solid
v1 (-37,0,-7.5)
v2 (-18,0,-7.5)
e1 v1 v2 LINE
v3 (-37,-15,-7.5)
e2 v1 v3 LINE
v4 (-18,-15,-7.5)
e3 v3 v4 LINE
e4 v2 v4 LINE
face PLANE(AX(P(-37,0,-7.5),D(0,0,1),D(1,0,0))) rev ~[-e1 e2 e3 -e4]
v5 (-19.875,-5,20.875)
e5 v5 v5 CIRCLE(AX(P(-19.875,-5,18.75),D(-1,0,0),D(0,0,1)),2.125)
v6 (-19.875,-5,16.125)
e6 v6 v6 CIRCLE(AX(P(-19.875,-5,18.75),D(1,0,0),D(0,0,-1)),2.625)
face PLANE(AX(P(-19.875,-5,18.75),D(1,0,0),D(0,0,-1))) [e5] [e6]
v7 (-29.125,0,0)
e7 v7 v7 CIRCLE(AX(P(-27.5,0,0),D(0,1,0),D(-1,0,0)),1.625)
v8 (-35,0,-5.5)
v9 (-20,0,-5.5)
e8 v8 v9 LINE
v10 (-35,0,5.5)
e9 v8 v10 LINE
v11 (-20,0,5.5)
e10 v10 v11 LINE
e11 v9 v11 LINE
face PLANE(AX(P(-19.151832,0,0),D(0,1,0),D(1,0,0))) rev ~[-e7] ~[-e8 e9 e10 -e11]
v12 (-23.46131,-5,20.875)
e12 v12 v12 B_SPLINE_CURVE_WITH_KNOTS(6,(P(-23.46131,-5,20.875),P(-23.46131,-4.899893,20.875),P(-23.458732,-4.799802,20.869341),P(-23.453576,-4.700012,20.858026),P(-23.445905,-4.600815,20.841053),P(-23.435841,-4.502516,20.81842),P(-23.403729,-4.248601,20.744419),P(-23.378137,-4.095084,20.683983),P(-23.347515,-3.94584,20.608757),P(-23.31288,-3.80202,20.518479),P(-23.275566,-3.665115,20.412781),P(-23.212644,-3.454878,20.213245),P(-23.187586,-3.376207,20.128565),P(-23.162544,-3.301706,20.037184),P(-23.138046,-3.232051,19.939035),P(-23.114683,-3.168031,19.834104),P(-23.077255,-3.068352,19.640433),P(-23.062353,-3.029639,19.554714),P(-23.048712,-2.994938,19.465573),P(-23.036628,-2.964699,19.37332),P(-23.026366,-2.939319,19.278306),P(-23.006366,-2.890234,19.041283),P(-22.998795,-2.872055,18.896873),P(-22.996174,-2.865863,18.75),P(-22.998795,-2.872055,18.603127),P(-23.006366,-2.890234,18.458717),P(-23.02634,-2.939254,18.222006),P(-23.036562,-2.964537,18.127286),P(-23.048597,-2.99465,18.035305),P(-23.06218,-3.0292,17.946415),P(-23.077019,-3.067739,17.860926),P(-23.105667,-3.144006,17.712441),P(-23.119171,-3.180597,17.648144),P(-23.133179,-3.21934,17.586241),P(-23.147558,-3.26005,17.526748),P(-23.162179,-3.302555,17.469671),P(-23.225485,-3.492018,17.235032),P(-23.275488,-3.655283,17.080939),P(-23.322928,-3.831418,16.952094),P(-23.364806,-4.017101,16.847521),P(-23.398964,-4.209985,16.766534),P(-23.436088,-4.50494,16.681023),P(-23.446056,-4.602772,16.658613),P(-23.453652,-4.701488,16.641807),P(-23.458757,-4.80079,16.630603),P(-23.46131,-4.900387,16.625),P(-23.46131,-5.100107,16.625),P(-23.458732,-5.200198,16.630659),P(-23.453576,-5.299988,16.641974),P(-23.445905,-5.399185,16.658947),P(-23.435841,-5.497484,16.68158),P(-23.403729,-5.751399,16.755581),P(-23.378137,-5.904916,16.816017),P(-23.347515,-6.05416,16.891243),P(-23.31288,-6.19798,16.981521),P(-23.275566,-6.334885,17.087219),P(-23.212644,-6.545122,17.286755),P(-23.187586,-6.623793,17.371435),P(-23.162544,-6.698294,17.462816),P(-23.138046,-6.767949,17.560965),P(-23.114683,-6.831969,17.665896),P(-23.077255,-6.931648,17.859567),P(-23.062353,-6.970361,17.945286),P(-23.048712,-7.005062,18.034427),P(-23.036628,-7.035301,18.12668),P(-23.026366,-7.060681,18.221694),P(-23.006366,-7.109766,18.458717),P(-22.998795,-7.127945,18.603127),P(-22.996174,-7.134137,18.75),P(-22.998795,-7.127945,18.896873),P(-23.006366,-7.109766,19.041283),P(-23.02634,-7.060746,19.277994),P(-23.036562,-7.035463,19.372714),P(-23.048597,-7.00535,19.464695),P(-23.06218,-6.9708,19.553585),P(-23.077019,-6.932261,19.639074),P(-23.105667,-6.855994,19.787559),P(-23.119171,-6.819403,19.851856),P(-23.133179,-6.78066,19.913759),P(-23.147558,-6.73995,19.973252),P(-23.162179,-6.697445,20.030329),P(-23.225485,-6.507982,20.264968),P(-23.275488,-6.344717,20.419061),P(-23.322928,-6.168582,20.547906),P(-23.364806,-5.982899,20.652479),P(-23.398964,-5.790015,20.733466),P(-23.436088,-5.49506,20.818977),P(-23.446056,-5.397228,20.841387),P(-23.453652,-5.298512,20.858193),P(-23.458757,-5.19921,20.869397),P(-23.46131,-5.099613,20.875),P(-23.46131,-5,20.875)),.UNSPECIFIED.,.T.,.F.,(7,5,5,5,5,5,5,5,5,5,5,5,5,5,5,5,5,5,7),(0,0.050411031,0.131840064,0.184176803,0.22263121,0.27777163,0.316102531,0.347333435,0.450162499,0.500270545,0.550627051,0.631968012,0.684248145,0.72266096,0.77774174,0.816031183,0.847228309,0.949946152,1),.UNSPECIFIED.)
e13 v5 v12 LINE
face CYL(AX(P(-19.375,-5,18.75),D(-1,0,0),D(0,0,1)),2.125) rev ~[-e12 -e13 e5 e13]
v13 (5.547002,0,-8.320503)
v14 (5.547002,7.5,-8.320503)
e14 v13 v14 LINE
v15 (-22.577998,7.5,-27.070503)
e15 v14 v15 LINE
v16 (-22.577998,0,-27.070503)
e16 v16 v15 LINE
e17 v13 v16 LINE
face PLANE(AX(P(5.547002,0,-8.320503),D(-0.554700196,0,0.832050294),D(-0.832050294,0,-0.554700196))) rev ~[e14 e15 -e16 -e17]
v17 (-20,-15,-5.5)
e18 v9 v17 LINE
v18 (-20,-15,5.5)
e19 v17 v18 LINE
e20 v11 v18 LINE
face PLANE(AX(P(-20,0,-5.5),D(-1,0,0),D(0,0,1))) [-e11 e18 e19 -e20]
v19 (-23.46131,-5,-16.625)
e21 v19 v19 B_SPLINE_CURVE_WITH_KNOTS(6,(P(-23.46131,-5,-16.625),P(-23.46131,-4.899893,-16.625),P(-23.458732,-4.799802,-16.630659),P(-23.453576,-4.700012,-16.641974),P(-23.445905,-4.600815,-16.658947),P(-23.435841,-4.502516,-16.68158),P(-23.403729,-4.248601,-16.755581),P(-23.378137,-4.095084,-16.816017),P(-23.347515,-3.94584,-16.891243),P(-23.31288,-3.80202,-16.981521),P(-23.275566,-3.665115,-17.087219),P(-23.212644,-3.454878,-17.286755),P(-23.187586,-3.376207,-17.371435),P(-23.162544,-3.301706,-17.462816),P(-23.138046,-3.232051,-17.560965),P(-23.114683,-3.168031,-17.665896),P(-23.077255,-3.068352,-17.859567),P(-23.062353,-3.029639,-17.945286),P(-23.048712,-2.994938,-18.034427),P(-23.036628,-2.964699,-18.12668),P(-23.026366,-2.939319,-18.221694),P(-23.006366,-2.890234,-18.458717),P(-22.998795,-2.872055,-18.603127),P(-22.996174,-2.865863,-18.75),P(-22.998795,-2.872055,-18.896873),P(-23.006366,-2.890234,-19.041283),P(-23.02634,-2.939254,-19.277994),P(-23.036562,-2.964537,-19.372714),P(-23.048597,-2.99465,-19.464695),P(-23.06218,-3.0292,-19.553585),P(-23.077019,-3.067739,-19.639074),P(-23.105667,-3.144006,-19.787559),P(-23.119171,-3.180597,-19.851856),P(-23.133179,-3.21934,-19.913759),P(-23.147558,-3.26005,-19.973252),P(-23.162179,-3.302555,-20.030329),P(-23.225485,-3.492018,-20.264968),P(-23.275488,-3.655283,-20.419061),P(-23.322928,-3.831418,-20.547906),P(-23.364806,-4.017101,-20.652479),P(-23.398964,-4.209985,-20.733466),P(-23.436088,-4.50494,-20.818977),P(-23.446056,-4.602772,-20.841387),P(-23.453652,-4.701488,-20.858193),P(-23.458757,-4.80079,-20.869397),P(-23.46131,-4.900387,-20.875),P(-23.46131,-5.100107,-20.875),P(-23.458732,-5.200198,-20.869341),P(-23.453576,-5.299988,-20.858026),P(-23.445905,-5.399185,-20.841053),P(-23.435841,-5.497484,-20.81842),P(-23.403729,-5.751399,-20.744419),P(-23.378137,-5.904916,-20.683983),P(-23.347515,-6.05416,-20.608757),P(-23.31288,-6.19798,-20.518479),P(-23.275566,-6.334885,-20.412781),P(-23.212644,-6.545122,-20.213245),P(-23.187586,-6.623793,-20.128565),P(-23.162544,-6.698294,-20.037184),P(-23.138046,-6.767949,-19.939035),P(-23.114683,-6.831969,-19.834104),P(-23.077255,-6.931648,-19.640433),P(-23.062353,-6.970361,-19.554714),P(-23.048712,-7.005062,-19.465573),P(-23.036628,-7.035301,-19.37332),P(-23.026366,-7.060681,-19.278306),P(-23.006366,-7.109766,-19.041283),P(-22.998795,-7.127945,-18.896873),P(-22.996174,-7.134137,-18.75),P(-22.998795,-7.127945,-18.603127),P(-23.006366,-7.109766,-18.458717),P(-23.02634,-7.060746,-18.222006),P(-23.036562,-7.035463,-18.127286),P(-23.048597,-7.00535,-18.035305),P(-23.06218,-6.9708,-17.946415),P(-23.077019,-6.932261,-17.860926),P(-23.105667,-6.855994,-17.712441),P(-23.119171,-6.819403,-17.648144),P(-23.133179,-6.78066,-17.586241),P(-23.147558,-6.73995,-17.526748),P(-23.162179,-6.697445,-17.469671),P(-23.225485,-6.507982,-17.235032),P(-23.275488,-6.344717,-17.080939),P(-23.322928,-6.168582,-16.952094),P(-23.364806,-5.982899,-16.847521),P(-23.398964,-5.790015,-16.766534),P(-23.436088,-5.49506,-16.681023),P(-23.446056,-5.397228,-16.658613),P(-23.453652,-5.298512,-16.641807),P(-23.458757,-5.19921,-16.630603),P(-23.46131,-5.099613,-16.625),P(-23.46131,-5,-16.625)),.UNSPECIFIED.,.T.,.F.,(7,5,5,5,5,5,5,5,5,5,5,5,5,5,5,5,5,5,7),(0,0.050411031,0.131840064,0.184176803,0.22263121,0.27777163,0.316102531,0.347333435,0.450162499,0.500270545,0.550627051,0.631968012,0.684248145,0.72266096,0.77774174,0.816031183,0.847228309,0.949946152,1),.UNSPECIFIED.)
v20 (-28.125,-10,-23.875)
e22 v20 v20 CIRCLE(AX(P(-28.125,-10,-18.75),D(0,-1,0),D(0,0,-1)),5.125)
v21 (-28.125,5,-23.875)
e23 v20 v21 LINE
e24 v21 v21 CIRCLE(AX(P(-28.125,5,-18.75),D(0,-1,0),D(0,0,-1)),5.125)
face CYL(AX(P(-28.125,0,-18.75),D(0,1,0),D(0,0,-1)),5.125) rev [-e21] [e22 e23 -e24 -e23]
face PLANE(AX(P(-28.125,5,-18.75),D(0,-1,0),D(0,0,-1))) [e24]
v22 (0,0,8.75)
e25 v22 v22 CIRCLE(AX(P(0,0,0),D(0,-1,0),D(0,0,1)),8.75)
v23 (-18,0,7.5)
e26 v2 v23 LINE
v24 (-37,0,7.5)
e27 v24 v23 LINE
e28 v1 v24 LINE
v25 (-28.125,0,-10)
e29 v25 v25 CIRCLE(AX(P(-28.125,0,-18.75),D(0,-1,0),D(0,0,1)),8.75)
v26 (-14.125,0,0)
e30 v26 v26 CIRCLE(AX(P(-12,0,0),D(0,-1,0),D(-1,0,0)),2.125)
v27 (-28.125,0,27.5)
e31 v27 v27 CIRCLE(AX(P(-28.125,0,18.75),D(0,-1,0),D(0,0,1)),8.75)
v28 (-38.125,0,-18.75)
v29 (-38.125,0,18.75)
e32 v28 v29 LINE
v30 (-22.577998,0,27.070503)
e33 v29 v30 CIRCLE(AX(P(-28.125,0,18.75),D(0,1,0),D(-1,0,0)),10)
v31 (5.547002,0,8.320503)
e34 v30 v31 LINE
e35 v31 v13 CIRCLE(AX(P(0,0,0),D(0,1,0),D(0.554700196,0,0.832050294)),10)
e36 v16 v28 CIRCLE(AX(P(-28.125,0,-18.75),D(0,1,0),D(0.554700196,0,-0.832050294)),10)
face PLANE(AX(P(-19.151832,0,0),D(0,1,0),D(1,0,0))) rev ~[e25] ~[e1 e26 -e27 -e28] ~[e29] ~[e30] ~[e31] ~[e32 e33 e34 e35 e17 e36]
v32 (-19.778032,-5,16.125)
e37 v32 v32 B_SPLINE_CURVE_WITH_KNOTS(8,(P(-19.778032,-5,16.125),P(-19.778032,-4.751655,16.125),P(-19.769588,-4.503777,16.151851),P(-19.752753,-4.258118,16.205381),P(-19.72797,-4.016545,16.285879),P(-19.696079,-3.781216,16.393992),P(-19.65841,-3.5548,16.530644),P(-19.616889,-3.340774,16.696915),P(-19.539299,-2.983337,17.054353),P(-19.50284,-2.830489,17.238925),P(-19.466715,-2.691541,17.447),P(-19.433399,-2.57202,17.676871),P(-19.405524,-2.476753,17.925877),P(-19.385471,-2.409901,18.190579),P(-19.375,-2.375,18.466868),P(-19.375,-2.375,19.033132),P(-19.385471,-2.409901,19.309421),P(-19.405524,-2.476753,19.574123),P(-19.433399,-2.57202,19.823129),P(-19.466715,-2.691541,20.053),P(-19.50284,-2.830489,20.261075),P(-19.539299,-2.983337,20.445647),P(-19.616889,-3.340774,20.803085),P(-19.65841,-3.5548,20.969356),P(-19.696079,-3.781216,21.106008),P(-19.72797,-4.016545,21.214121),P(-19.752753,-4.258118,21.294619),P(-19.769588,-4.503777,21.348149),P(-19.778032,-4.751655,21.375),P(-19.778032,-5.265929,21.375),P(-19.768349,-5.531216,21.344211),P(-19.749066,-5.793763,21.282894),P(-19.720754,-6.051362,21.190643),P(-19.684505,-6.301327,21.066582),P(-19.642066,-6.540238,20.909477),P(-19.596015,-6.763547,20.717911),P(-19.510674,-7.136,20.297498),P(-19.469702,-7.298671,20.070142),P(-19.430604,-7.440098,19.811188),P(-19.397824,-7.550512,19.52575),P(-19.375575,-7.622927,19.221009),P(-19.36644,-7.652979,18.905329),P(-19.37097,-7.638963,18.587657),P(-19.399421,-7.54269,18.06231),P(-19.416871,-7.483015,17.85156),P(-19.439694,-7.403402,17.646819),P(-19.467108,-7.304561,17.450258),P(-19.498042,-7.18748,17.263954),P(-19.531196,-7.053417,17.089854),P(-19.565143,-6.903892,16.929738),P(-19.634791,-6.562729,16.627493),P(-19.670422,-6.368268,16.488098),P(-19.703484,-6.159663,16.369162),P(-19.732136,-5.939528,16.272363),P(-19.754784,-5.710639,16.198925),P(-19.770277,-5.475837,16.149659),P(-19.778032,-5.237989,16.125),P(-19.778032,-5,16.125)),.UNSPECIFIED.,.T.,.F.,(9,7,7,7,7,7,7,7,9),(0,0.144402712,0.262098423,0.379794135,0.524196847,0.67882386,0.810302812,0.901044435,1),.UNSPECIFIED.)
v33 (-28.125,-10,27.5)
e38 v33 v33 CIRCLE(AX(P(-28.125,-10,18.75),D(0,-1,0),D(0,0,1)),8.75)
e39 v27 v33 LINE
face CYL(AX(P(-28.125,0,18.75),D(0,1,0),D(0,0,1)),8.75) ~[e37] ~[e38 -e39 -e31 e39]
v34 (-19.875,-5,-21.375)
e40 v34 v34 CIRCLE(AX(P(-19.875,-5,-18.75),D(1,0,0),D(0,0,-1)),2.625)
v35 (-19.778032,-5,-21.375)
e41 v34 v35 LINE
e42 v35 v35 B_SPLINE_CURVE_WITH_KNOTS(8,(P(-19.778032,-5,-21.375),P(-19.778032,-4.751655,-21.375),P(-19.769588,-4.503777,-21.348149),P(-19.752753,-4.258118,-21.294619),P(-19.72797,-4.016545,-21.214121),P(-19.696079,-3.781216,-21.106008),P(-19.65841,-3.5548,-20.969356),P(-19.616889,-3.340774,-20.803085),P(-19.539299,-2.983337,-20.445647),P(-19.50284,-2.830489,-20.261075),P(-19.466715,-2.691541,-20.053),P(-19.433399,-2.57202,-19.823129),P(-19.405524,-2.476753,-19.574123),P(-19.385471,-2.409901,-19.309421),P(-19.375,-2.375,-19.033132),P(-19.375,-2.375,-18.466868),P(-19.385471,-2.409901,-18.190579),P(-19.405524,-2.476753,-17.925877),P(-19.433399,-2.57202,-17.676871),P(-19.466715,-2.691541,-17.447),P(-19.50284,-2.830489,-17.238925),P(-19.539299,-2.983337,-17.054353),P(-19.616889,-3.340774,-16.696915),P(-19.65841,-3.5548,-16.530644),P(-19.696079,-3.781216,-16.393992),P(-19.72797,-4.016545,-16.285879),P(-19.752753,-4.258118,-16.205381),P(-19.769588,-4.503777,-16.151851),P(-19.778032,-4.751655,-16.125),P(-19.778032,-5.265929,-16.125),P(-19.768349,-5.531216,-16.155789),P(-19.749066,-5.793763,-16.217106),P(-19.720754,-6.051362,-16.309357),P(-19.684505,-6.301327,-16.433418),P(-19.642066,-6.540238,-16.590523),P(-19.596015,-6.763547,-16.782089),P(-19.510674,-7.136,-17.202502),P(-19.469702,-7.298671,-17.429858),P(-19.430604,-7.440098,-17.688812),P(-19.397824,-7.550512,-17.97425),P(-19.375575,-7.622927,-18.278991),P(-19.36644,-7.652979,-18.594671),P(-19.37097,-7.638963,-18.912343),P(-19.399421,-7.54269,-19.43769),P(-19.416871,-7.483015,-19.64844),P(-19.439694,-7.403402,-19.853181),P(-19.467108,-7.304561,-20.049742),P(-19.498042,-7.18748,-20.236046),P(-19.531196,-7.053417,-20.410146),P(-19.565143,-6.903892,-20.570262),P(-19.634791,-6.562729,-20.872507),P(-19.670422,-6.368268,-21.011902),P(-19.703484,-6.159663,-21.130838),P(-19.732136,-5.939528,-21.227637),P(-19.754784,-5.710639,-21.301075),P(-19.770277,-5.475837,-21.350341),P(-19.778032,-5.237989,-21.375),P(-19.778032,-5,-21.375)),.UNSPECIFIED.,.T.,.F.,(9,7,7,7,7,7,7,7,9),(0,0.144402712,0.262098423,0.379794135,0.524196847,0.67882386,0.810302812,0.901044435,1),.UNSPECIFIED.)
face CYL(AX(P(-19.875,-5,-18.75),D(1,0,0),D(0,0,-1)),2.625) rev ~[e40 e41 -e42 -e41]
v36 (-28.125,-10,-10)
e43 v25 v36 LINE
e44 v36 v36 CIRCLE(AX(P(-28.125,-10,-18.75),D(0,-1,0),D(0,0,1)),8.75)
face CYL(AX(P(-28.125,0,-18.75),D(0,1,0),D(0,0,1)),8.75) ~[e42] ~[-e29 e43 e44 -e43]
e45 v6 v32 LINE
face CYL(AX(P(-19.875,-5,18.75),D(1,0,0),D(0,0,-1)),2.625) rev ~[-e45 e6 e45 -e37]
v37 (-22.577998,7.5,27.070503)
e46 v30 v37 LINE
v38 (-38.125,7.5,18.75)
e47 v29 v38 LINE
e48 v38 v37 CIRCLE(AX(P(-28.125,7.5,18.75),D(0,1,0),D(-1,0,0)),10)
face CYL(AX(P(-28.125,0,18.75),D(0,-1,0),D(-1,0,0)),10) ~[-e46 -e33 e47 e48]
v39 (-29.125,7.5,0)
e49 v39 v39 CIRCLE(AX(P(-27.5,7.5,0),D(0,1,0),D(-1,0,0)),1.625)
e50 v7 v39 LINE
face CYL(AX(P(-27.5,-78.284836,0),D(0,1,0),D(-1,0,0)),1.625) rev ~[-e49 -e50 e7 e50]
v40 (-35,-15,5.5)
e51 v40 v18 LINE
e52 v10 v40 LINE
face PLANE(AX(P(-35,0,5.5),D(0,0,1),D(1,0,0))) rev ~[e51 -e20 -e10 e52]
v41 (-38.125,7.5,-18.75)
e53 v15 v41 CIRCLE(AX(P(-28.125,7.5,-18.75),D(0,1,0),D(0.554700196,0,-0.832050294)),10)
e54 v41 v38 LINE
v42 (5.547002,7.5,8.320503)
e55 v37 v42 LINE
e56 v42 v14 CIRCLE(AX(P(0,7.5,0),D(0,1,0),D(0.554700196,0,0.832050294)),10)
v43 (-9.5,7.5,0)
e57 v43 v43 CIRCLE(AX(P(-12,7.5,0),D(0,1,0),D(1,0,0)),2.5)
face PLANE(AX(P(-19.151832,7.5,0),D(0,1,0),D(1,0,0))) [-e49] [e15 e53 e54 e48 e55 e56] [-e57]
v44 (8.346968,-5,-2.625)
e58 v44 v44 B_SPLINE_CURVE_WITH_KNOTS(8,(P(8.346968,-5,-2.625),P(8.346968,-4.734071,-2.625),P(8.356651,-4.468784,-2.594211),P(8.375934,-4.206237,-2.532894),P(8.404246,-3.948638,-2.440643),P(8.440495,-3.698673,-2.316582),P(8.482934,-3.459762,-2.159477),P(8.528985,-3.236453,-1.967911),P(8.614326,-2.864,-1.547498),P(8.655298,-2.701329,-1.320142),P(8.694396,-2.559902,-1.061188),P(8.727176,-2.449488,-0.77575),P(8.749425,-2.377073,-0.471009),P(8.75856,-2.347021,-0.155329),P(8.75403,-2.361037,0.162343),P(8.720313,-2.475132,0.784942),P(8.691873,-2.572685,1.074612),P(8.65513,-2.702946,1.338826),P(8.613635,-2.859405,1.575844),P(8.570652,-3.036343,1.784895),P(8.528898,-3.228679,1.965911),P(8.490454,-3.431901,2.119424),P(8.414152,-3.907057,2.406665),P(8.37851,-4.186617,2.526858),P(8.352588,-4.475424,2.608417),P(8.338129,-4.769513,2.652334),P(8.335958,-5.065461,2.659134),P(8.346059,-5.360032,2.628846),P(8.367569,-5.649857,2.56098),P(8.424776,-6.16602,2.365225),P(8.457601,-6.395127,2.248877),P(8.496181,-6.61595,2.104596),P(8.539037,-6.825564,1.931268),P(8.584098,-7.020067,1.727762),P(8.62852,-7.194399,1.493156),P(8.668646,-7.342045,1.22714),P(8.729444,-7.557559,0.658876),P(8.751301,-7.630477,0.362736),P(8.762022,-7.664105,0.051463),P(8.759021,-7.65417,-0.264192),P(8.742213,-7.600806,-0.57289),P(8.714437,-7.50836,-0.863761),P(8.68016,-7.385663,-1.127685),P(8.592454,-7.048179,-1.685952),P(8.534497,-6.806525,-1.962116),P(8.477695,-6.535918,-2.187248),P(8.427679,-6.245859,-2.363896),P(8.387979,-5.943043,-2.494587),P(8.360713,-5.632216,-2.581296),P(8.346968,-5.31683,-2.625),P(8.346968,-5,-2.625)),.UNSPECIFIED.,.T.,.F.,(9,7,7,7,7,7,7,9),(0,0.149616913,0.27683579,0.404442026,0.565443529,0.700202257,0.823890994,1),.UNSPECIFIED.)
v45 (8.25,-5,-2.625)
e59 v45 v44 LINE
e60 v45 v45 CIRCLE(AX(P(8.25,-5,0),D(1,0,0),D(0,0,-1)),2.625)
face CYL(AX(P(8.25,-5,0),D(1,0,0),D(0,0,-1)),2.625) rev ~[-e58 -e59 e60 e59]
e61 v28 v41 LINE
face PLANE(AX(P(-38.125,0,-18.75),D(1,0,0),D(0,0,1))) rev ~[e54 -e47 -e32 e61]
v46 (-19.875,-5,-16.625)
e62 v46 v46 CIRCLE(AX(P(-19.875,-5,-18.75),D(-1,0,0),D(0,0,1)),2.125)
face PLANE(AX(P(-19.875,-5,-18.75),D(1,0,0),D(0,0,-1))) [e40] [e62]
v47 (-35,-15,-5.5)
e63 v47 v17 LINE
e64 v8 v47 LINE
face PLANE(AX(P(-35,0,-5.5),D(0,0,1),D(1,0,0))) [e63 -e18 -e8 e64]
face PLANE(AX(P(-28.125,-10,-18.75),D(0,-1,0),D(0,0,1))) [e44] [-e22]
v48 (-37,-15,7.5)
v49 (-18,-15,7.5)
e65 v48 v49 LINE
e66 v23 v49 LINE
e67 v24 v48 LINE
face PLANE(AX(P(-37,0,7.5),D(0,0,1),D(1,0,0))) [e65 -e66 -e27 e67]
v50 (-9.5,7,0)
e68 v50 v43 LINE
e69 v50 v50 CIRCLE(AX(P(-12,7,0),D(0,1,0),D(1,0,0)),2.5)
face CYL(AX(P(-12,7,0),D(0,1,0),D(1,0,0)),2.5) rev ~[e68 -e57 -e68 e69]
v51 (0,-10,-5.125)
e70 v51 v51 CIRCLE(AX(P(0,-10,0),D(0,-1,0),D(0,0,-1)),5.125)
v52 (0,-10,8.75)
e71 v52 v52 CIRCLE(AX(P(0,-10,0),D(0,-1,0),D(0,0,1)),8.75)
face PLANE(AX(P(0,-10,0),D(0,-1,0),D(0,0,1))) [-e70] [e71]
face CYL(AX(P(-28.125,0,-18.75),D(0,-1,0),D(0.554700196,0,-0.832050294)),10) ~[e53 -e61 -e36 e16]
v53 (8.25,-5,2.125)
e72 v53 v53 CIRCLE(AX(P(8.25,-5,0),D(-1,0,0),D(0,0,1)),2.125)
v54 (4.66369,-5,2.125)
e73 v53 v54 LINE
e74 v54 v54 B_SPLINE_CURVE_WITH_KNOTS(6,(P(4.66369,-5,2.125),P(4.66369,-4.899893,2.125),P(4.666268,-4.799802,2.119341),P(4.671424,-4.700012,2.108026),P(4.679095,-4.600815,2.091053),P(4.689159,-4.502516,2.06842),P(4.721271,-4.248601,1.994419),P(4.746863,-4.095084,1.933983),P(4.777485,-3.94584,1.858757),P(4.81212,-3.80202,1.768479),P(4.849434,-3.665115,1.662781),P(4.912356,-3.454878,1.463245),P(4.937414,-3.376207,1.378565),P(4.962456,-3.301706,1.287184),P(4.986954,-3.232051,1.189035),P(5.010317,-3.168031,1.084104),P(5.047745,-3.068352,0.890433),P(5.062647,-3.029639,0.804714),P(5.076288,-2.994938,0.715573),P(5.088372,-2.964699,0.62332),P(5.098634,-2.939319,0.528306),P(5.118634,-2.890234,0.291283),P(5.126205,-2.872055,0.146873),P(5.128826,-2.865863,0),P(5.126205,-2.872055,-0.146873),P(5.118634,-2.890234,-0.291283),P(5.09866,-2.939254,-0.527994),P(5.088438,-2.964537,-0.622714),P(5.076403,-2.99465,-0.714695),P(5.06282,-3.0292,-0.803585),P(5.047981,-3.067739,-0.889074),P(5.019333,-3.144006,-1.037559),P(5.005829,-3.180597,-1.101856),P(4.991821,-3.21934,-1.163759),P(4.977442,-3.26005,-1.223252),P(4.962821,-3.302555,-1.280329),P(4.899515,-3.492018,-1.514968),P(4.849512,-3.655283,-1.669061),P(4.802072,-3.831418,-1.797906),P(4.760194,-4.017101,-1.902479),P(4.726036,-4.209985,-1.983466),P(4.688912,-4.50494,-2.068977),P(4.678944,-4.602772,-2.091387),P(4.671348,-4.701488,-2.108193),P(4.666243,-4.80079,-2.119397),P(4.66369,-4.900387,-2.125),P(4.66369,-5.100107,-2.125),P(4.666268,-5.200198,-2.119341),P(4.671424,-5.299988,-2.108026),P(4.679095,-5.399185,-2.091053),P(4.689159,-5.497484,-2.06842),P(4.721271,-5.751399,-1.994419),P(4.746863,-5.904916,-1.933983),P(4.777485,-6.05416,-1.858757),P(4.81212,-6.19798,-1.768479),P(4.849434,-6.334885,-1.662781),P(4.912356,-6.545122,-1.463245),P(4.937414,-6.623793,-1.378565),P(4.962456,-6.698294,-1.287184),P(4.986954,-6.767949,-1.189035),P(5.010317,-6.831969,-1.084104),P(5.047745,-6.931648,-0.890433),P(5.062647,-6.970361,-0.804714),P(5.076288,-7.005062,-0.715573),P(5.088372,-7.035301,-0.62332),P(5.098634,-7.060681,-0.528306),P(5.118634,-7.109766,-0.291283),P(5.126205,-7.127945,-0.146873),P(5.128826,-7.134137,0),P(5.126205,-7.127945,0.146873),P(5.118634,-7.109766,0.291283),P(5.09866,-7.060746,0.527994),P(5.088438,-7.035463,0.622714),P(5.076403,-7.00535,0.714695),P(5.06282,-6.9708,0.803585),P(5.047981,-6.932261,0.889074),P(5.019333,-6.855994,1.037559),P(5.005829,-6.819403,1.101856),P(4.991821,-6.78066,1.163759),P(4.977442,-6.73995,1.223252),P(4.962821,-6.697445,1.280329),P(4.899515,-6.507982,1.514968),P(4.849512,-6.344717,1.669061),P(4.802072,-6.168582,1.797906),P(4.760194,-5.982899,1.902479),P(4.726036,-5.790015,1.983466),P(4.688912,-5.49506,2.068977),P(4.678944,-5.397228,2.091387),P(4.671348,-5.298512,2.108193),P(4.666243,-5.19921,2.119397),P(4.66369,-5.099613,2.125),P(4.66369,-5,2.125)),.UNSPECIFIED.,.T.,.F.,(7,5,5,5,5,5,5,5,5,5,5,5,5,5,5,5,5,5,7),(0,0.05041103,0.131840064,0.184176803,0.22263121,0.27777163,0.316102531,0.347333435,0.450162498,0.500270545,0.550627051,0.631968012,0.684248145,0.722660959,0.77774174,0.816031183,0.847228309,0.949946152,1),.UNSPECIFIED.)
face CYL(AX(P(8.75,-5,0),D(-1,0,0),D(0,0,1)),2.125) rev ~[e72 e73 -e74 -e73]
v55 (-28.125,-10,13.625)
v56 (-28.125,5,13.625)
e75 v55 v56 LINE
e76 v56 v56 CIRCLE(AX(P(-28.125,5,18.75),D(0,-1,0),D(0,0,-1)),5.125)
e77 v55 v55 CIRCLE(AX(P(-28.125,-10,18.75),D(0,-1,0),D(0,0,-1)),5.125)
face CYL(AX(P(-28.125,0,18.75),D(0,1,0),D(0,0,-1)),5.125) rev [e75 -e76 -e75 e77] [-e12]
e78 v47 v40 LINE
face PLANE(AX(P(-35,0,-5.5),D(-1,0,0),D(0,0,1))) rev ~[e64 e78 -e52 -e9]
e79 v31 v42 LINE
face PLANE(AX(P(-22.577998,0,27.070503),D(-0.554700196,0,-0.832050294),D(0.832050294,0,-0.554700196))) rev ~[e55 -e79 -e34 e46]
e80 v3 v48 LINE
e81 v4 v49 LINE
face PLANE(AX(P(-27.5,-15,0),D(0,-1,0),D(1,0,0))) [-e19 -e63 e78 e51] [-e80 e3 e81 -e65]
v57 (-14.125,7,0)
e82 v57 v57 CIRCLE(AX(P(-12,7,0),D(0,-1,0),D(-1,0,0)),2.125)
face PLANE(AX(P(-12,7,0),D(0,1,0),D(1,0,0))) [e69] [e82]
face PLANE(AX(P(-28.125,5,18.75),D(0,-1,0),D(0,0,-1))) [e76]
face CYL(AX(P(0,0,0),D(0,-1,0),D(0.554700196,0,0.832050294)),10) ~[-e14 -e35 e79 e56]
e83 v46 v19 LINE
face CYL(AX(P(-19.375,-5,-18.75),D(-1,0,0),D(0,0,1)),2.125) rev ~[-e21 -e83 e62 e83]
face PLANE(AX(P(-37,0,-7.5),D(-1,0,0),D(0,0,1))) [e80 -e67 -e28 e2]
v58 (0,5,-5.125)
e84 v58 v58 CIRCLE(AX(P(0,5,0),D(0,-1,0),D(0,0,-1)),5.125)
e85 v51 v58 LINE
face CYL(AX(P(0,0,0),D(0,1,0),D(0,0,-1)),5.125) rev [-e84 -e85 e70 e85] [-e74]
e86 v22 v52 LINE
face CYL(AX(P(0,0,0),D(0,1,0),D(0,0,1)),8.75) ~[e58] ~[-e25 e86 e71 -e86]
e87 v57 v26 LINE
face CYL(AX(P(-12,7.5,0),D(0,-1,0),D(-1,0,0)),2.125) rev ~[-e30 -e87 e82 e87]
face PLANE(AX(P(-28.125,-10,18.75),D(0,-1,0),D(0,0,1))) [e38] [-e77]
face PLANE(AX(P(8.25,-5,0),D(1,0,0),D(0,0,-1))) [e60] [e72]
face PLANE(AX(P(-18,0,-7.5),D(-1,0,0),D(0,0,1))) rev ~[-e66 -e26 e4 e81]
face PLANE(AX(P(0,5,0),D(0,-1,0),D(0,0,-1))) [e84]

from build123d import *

# Parameters (mm, degrees)
BOSS_EXTRUDE1_DEPTH                              = 7.5
SKETCH6_W                                        = 19
SKETCH6_H                                        = 15
SKETCH6_W_2                                      = 15
SKETCH6_H_2                                      = 11
BOSS_EXTRUDE3_DEPTH                              = 15
M3_CLEARANCE_HOLE1_D                             = 3.25
CBORE_FOR_M5_HEX_HEAD_MACHINE_SCREW1_D           = 4.25
CBORE_FOR_M5_HEX_HEAD_MACHINE_SCREW1_CBORE_D     = 5
CBORE_FOR_M5_HEX_HEAD_MACHINE_SCREW1_CBORE_DEPTH = 0.5
SKETCH3_R                                        = 8.75
SKETCH3_R_2                                      = 5.125
BOSS_EXTRUDE4_DEPTH                              = 10
CBORE_FOR_M3_SHCS1_D                             = 4.25
CBORE_FOR_M3_SHCS1_DEPTH                         = 10
CBORE_FOR_M3_SHCS1_CBORE_D                       = 5.25
CBORE_FOR_M3_SHCS1_CBORE_DEPTH                   = 0.5
CBORE_FOR_M3_SHCS2_D                             = 4.25
CBORE_FOR_M3_SHCS2_DEPTH                         = 10
CBORE_FOR_M3_SHCS2_CBORE_D                       = 5.25
CBORE_FOR_M3_SHCS2_CBORE_DEPTH                   = 0.5
CUT_EXTRUDE1_START                               = -5
SKETCH15_R                                       = 5.125
CUT_EXTRUDE1_DEPTH                               = 5


with BuildPart() as part:
    # Sketch1 → Boss-Extrude1 (new body)
    with BuildSketch(Plane(origin=(0, 0, 0), x_dir=(1, 0, 0), z_dir=(0, 1, 0))):
        with BuildLine():
            Line((-38.125, 18.75), (-38.125, -18.75))
            ThreePointArc((-38.125, -18.75), (-32.843579255, -27.566745988), (-22.577998038, -27.070502943))
            Line((-22.577998038, -27.070502943), (5.547001962, -8.320502943))
            ThreePointArc((5.547001962, -8.320502943), (10, 0), (5.547001962, 8.320502943))
            Line((5.547001962, 8.320502943), (-22.577998038, 27.070502943))
            ThreePointArc((-22.577998038, 27.070502943), (-32.843579255, 27.566745988), (-38.125, 18.75))
        make_face()
    extrude(amount=BOSS_EXTRUDE1_DEPTH)

    # Sketch6 → Boss-Extrude3 (add)
    with BuildSketch(Plane.XZ):
        with Locations((-27.5, 0)):
            Rectangle(SKETCH6_W, SKETCH6_H)
        with Locations((-27.5, 0)):
            Rectangle(SKETCH6_W_2, SKETCH6_H_2, mode=Mode.SUBTRACT)
    extrude(amount=BOSS_EXTRUDE3_DEPTH)

    # M3 Clearance Hole1 (through all)
    with Locations(Plane.XZ):
        with Locations((-27.5, 0)):
            Hole(M3_CLEARANCE_HOLE1_D / 2)

    # CBORE for M5 Hex Head Machine Screw1 (through all)
    with Locations(Plane(origin=(0, 7.5, 0), x_dir=(1, 0, 0), z_dir=(0, 1, 0))):
        with Locations((-12, 0)):
            CounterBoreHole(CBORE_FOR_M5_HEX_HEAD_MACHINE_SCREW1_D / 2, CBORE_FOR_M5_HEX_HEAD_MACHINE_SCREW1_CBORE_D / 2, CBORE_FOR_M5_HEX_HEAD_MACHINE_SCREW1_CBORE_DEPTH)

    # Sketch3 → Boss-Extrude4 (add)
    # profile 1 of 3: a face of its own
    with BuildSketch(Plane.XZ):
        with Locations(Location((-28.125, 18.75, 0), (0, 0, 90))):
            Circle(SKETCH3_R)
        with Locations(Location((-28.125, 18.75, 0), (0, 0, 270))):
            Circle(SKETCH3_R_2, mode=Mode.SUBTRACT)
    # profile 2 of 3: a face of its own
    with BuildSketch(Plane.XZ):
        with Locations(Location((-28.125, -18.75, 0), (0, 0, 90))):
            Circle(SKETCH3_R)
        with Locations(Location((-28.125, -18.75, 0), (0, 0, 270))):
            Circle(SKETCH3_R_2, mode=Mode.SUBTRACT)
    # profile 3 of 3: a face of its own
    with BuildSketch(Plane.XZ):
        with Locations(Location((0, 0, 0), (0, 0, 90))):
            Circle(SKETCH3_R)
        with Locations(Location((0, 0, 0), (0, 0, 270))):
            Circle(SKETCH3_R_2, mode=Mode.SUBTRACT)
    extrude(amount=BOSS_EXTRUDE4_DEPTH)

    # CBORE for M3 SHCS1
    with Locations(Plane(origin=(-19.375, 0, 0), x_dir=(0, 0, -1), z_dir=(1, 0, 0))):
        with Locations((-18.75, -5), (18.75, -5)):
            CounterBoreHole(CBORE_FOR_M3_SHCS1_D / 2, CBORE_FOR_M3_SHCS1_CBORE_D / 2, CBORE_FOR_M3_SHCS1_CBORE_DEPTH, depth=CBORE_FOR_M3_SHCS1_DEPTH)

    # CBORE for M3 SHCS2
    with Locations(Plane(origin=(8.75, 0, 0), x_dir=(0, 0, -1), z_dir=(1, 0, 0))):
        with Locations((0, -5)):
            CounterBoreHole(CBORE_FOR_M3_SHCS2_D / 2, CBORE_FOR_M3_SHCS2_CBORE_D / 2, CBORE_FOR_M3_SHCS2_CBORE_DEPTH, depth=CBORE_FOR_M3_SHCS2_DEPTH)

    # Sketch15 → Cut-Extrude1 (cut)
    with BuildSketch(Plane.XZ.offset(CUT_EXTRUDE1_START)):
        with Locations(Location((-28.125, 18.75, 0), (0, 0, 270))):
            Circle(SKETCH15_R)
        with Locations(Location((0, 0, 0), (0, 0, 270))):
            Circle(SKETCH15_R)
        with Locations(Location((-28.125, -18.75, 0), (0, 0, 270))):
            Circle(SKETCH15_R)
    extrude(amount=CUT_EXTRUDE1_DEPTH, mode=Mode.SUBTRACT)


solid = part.part
